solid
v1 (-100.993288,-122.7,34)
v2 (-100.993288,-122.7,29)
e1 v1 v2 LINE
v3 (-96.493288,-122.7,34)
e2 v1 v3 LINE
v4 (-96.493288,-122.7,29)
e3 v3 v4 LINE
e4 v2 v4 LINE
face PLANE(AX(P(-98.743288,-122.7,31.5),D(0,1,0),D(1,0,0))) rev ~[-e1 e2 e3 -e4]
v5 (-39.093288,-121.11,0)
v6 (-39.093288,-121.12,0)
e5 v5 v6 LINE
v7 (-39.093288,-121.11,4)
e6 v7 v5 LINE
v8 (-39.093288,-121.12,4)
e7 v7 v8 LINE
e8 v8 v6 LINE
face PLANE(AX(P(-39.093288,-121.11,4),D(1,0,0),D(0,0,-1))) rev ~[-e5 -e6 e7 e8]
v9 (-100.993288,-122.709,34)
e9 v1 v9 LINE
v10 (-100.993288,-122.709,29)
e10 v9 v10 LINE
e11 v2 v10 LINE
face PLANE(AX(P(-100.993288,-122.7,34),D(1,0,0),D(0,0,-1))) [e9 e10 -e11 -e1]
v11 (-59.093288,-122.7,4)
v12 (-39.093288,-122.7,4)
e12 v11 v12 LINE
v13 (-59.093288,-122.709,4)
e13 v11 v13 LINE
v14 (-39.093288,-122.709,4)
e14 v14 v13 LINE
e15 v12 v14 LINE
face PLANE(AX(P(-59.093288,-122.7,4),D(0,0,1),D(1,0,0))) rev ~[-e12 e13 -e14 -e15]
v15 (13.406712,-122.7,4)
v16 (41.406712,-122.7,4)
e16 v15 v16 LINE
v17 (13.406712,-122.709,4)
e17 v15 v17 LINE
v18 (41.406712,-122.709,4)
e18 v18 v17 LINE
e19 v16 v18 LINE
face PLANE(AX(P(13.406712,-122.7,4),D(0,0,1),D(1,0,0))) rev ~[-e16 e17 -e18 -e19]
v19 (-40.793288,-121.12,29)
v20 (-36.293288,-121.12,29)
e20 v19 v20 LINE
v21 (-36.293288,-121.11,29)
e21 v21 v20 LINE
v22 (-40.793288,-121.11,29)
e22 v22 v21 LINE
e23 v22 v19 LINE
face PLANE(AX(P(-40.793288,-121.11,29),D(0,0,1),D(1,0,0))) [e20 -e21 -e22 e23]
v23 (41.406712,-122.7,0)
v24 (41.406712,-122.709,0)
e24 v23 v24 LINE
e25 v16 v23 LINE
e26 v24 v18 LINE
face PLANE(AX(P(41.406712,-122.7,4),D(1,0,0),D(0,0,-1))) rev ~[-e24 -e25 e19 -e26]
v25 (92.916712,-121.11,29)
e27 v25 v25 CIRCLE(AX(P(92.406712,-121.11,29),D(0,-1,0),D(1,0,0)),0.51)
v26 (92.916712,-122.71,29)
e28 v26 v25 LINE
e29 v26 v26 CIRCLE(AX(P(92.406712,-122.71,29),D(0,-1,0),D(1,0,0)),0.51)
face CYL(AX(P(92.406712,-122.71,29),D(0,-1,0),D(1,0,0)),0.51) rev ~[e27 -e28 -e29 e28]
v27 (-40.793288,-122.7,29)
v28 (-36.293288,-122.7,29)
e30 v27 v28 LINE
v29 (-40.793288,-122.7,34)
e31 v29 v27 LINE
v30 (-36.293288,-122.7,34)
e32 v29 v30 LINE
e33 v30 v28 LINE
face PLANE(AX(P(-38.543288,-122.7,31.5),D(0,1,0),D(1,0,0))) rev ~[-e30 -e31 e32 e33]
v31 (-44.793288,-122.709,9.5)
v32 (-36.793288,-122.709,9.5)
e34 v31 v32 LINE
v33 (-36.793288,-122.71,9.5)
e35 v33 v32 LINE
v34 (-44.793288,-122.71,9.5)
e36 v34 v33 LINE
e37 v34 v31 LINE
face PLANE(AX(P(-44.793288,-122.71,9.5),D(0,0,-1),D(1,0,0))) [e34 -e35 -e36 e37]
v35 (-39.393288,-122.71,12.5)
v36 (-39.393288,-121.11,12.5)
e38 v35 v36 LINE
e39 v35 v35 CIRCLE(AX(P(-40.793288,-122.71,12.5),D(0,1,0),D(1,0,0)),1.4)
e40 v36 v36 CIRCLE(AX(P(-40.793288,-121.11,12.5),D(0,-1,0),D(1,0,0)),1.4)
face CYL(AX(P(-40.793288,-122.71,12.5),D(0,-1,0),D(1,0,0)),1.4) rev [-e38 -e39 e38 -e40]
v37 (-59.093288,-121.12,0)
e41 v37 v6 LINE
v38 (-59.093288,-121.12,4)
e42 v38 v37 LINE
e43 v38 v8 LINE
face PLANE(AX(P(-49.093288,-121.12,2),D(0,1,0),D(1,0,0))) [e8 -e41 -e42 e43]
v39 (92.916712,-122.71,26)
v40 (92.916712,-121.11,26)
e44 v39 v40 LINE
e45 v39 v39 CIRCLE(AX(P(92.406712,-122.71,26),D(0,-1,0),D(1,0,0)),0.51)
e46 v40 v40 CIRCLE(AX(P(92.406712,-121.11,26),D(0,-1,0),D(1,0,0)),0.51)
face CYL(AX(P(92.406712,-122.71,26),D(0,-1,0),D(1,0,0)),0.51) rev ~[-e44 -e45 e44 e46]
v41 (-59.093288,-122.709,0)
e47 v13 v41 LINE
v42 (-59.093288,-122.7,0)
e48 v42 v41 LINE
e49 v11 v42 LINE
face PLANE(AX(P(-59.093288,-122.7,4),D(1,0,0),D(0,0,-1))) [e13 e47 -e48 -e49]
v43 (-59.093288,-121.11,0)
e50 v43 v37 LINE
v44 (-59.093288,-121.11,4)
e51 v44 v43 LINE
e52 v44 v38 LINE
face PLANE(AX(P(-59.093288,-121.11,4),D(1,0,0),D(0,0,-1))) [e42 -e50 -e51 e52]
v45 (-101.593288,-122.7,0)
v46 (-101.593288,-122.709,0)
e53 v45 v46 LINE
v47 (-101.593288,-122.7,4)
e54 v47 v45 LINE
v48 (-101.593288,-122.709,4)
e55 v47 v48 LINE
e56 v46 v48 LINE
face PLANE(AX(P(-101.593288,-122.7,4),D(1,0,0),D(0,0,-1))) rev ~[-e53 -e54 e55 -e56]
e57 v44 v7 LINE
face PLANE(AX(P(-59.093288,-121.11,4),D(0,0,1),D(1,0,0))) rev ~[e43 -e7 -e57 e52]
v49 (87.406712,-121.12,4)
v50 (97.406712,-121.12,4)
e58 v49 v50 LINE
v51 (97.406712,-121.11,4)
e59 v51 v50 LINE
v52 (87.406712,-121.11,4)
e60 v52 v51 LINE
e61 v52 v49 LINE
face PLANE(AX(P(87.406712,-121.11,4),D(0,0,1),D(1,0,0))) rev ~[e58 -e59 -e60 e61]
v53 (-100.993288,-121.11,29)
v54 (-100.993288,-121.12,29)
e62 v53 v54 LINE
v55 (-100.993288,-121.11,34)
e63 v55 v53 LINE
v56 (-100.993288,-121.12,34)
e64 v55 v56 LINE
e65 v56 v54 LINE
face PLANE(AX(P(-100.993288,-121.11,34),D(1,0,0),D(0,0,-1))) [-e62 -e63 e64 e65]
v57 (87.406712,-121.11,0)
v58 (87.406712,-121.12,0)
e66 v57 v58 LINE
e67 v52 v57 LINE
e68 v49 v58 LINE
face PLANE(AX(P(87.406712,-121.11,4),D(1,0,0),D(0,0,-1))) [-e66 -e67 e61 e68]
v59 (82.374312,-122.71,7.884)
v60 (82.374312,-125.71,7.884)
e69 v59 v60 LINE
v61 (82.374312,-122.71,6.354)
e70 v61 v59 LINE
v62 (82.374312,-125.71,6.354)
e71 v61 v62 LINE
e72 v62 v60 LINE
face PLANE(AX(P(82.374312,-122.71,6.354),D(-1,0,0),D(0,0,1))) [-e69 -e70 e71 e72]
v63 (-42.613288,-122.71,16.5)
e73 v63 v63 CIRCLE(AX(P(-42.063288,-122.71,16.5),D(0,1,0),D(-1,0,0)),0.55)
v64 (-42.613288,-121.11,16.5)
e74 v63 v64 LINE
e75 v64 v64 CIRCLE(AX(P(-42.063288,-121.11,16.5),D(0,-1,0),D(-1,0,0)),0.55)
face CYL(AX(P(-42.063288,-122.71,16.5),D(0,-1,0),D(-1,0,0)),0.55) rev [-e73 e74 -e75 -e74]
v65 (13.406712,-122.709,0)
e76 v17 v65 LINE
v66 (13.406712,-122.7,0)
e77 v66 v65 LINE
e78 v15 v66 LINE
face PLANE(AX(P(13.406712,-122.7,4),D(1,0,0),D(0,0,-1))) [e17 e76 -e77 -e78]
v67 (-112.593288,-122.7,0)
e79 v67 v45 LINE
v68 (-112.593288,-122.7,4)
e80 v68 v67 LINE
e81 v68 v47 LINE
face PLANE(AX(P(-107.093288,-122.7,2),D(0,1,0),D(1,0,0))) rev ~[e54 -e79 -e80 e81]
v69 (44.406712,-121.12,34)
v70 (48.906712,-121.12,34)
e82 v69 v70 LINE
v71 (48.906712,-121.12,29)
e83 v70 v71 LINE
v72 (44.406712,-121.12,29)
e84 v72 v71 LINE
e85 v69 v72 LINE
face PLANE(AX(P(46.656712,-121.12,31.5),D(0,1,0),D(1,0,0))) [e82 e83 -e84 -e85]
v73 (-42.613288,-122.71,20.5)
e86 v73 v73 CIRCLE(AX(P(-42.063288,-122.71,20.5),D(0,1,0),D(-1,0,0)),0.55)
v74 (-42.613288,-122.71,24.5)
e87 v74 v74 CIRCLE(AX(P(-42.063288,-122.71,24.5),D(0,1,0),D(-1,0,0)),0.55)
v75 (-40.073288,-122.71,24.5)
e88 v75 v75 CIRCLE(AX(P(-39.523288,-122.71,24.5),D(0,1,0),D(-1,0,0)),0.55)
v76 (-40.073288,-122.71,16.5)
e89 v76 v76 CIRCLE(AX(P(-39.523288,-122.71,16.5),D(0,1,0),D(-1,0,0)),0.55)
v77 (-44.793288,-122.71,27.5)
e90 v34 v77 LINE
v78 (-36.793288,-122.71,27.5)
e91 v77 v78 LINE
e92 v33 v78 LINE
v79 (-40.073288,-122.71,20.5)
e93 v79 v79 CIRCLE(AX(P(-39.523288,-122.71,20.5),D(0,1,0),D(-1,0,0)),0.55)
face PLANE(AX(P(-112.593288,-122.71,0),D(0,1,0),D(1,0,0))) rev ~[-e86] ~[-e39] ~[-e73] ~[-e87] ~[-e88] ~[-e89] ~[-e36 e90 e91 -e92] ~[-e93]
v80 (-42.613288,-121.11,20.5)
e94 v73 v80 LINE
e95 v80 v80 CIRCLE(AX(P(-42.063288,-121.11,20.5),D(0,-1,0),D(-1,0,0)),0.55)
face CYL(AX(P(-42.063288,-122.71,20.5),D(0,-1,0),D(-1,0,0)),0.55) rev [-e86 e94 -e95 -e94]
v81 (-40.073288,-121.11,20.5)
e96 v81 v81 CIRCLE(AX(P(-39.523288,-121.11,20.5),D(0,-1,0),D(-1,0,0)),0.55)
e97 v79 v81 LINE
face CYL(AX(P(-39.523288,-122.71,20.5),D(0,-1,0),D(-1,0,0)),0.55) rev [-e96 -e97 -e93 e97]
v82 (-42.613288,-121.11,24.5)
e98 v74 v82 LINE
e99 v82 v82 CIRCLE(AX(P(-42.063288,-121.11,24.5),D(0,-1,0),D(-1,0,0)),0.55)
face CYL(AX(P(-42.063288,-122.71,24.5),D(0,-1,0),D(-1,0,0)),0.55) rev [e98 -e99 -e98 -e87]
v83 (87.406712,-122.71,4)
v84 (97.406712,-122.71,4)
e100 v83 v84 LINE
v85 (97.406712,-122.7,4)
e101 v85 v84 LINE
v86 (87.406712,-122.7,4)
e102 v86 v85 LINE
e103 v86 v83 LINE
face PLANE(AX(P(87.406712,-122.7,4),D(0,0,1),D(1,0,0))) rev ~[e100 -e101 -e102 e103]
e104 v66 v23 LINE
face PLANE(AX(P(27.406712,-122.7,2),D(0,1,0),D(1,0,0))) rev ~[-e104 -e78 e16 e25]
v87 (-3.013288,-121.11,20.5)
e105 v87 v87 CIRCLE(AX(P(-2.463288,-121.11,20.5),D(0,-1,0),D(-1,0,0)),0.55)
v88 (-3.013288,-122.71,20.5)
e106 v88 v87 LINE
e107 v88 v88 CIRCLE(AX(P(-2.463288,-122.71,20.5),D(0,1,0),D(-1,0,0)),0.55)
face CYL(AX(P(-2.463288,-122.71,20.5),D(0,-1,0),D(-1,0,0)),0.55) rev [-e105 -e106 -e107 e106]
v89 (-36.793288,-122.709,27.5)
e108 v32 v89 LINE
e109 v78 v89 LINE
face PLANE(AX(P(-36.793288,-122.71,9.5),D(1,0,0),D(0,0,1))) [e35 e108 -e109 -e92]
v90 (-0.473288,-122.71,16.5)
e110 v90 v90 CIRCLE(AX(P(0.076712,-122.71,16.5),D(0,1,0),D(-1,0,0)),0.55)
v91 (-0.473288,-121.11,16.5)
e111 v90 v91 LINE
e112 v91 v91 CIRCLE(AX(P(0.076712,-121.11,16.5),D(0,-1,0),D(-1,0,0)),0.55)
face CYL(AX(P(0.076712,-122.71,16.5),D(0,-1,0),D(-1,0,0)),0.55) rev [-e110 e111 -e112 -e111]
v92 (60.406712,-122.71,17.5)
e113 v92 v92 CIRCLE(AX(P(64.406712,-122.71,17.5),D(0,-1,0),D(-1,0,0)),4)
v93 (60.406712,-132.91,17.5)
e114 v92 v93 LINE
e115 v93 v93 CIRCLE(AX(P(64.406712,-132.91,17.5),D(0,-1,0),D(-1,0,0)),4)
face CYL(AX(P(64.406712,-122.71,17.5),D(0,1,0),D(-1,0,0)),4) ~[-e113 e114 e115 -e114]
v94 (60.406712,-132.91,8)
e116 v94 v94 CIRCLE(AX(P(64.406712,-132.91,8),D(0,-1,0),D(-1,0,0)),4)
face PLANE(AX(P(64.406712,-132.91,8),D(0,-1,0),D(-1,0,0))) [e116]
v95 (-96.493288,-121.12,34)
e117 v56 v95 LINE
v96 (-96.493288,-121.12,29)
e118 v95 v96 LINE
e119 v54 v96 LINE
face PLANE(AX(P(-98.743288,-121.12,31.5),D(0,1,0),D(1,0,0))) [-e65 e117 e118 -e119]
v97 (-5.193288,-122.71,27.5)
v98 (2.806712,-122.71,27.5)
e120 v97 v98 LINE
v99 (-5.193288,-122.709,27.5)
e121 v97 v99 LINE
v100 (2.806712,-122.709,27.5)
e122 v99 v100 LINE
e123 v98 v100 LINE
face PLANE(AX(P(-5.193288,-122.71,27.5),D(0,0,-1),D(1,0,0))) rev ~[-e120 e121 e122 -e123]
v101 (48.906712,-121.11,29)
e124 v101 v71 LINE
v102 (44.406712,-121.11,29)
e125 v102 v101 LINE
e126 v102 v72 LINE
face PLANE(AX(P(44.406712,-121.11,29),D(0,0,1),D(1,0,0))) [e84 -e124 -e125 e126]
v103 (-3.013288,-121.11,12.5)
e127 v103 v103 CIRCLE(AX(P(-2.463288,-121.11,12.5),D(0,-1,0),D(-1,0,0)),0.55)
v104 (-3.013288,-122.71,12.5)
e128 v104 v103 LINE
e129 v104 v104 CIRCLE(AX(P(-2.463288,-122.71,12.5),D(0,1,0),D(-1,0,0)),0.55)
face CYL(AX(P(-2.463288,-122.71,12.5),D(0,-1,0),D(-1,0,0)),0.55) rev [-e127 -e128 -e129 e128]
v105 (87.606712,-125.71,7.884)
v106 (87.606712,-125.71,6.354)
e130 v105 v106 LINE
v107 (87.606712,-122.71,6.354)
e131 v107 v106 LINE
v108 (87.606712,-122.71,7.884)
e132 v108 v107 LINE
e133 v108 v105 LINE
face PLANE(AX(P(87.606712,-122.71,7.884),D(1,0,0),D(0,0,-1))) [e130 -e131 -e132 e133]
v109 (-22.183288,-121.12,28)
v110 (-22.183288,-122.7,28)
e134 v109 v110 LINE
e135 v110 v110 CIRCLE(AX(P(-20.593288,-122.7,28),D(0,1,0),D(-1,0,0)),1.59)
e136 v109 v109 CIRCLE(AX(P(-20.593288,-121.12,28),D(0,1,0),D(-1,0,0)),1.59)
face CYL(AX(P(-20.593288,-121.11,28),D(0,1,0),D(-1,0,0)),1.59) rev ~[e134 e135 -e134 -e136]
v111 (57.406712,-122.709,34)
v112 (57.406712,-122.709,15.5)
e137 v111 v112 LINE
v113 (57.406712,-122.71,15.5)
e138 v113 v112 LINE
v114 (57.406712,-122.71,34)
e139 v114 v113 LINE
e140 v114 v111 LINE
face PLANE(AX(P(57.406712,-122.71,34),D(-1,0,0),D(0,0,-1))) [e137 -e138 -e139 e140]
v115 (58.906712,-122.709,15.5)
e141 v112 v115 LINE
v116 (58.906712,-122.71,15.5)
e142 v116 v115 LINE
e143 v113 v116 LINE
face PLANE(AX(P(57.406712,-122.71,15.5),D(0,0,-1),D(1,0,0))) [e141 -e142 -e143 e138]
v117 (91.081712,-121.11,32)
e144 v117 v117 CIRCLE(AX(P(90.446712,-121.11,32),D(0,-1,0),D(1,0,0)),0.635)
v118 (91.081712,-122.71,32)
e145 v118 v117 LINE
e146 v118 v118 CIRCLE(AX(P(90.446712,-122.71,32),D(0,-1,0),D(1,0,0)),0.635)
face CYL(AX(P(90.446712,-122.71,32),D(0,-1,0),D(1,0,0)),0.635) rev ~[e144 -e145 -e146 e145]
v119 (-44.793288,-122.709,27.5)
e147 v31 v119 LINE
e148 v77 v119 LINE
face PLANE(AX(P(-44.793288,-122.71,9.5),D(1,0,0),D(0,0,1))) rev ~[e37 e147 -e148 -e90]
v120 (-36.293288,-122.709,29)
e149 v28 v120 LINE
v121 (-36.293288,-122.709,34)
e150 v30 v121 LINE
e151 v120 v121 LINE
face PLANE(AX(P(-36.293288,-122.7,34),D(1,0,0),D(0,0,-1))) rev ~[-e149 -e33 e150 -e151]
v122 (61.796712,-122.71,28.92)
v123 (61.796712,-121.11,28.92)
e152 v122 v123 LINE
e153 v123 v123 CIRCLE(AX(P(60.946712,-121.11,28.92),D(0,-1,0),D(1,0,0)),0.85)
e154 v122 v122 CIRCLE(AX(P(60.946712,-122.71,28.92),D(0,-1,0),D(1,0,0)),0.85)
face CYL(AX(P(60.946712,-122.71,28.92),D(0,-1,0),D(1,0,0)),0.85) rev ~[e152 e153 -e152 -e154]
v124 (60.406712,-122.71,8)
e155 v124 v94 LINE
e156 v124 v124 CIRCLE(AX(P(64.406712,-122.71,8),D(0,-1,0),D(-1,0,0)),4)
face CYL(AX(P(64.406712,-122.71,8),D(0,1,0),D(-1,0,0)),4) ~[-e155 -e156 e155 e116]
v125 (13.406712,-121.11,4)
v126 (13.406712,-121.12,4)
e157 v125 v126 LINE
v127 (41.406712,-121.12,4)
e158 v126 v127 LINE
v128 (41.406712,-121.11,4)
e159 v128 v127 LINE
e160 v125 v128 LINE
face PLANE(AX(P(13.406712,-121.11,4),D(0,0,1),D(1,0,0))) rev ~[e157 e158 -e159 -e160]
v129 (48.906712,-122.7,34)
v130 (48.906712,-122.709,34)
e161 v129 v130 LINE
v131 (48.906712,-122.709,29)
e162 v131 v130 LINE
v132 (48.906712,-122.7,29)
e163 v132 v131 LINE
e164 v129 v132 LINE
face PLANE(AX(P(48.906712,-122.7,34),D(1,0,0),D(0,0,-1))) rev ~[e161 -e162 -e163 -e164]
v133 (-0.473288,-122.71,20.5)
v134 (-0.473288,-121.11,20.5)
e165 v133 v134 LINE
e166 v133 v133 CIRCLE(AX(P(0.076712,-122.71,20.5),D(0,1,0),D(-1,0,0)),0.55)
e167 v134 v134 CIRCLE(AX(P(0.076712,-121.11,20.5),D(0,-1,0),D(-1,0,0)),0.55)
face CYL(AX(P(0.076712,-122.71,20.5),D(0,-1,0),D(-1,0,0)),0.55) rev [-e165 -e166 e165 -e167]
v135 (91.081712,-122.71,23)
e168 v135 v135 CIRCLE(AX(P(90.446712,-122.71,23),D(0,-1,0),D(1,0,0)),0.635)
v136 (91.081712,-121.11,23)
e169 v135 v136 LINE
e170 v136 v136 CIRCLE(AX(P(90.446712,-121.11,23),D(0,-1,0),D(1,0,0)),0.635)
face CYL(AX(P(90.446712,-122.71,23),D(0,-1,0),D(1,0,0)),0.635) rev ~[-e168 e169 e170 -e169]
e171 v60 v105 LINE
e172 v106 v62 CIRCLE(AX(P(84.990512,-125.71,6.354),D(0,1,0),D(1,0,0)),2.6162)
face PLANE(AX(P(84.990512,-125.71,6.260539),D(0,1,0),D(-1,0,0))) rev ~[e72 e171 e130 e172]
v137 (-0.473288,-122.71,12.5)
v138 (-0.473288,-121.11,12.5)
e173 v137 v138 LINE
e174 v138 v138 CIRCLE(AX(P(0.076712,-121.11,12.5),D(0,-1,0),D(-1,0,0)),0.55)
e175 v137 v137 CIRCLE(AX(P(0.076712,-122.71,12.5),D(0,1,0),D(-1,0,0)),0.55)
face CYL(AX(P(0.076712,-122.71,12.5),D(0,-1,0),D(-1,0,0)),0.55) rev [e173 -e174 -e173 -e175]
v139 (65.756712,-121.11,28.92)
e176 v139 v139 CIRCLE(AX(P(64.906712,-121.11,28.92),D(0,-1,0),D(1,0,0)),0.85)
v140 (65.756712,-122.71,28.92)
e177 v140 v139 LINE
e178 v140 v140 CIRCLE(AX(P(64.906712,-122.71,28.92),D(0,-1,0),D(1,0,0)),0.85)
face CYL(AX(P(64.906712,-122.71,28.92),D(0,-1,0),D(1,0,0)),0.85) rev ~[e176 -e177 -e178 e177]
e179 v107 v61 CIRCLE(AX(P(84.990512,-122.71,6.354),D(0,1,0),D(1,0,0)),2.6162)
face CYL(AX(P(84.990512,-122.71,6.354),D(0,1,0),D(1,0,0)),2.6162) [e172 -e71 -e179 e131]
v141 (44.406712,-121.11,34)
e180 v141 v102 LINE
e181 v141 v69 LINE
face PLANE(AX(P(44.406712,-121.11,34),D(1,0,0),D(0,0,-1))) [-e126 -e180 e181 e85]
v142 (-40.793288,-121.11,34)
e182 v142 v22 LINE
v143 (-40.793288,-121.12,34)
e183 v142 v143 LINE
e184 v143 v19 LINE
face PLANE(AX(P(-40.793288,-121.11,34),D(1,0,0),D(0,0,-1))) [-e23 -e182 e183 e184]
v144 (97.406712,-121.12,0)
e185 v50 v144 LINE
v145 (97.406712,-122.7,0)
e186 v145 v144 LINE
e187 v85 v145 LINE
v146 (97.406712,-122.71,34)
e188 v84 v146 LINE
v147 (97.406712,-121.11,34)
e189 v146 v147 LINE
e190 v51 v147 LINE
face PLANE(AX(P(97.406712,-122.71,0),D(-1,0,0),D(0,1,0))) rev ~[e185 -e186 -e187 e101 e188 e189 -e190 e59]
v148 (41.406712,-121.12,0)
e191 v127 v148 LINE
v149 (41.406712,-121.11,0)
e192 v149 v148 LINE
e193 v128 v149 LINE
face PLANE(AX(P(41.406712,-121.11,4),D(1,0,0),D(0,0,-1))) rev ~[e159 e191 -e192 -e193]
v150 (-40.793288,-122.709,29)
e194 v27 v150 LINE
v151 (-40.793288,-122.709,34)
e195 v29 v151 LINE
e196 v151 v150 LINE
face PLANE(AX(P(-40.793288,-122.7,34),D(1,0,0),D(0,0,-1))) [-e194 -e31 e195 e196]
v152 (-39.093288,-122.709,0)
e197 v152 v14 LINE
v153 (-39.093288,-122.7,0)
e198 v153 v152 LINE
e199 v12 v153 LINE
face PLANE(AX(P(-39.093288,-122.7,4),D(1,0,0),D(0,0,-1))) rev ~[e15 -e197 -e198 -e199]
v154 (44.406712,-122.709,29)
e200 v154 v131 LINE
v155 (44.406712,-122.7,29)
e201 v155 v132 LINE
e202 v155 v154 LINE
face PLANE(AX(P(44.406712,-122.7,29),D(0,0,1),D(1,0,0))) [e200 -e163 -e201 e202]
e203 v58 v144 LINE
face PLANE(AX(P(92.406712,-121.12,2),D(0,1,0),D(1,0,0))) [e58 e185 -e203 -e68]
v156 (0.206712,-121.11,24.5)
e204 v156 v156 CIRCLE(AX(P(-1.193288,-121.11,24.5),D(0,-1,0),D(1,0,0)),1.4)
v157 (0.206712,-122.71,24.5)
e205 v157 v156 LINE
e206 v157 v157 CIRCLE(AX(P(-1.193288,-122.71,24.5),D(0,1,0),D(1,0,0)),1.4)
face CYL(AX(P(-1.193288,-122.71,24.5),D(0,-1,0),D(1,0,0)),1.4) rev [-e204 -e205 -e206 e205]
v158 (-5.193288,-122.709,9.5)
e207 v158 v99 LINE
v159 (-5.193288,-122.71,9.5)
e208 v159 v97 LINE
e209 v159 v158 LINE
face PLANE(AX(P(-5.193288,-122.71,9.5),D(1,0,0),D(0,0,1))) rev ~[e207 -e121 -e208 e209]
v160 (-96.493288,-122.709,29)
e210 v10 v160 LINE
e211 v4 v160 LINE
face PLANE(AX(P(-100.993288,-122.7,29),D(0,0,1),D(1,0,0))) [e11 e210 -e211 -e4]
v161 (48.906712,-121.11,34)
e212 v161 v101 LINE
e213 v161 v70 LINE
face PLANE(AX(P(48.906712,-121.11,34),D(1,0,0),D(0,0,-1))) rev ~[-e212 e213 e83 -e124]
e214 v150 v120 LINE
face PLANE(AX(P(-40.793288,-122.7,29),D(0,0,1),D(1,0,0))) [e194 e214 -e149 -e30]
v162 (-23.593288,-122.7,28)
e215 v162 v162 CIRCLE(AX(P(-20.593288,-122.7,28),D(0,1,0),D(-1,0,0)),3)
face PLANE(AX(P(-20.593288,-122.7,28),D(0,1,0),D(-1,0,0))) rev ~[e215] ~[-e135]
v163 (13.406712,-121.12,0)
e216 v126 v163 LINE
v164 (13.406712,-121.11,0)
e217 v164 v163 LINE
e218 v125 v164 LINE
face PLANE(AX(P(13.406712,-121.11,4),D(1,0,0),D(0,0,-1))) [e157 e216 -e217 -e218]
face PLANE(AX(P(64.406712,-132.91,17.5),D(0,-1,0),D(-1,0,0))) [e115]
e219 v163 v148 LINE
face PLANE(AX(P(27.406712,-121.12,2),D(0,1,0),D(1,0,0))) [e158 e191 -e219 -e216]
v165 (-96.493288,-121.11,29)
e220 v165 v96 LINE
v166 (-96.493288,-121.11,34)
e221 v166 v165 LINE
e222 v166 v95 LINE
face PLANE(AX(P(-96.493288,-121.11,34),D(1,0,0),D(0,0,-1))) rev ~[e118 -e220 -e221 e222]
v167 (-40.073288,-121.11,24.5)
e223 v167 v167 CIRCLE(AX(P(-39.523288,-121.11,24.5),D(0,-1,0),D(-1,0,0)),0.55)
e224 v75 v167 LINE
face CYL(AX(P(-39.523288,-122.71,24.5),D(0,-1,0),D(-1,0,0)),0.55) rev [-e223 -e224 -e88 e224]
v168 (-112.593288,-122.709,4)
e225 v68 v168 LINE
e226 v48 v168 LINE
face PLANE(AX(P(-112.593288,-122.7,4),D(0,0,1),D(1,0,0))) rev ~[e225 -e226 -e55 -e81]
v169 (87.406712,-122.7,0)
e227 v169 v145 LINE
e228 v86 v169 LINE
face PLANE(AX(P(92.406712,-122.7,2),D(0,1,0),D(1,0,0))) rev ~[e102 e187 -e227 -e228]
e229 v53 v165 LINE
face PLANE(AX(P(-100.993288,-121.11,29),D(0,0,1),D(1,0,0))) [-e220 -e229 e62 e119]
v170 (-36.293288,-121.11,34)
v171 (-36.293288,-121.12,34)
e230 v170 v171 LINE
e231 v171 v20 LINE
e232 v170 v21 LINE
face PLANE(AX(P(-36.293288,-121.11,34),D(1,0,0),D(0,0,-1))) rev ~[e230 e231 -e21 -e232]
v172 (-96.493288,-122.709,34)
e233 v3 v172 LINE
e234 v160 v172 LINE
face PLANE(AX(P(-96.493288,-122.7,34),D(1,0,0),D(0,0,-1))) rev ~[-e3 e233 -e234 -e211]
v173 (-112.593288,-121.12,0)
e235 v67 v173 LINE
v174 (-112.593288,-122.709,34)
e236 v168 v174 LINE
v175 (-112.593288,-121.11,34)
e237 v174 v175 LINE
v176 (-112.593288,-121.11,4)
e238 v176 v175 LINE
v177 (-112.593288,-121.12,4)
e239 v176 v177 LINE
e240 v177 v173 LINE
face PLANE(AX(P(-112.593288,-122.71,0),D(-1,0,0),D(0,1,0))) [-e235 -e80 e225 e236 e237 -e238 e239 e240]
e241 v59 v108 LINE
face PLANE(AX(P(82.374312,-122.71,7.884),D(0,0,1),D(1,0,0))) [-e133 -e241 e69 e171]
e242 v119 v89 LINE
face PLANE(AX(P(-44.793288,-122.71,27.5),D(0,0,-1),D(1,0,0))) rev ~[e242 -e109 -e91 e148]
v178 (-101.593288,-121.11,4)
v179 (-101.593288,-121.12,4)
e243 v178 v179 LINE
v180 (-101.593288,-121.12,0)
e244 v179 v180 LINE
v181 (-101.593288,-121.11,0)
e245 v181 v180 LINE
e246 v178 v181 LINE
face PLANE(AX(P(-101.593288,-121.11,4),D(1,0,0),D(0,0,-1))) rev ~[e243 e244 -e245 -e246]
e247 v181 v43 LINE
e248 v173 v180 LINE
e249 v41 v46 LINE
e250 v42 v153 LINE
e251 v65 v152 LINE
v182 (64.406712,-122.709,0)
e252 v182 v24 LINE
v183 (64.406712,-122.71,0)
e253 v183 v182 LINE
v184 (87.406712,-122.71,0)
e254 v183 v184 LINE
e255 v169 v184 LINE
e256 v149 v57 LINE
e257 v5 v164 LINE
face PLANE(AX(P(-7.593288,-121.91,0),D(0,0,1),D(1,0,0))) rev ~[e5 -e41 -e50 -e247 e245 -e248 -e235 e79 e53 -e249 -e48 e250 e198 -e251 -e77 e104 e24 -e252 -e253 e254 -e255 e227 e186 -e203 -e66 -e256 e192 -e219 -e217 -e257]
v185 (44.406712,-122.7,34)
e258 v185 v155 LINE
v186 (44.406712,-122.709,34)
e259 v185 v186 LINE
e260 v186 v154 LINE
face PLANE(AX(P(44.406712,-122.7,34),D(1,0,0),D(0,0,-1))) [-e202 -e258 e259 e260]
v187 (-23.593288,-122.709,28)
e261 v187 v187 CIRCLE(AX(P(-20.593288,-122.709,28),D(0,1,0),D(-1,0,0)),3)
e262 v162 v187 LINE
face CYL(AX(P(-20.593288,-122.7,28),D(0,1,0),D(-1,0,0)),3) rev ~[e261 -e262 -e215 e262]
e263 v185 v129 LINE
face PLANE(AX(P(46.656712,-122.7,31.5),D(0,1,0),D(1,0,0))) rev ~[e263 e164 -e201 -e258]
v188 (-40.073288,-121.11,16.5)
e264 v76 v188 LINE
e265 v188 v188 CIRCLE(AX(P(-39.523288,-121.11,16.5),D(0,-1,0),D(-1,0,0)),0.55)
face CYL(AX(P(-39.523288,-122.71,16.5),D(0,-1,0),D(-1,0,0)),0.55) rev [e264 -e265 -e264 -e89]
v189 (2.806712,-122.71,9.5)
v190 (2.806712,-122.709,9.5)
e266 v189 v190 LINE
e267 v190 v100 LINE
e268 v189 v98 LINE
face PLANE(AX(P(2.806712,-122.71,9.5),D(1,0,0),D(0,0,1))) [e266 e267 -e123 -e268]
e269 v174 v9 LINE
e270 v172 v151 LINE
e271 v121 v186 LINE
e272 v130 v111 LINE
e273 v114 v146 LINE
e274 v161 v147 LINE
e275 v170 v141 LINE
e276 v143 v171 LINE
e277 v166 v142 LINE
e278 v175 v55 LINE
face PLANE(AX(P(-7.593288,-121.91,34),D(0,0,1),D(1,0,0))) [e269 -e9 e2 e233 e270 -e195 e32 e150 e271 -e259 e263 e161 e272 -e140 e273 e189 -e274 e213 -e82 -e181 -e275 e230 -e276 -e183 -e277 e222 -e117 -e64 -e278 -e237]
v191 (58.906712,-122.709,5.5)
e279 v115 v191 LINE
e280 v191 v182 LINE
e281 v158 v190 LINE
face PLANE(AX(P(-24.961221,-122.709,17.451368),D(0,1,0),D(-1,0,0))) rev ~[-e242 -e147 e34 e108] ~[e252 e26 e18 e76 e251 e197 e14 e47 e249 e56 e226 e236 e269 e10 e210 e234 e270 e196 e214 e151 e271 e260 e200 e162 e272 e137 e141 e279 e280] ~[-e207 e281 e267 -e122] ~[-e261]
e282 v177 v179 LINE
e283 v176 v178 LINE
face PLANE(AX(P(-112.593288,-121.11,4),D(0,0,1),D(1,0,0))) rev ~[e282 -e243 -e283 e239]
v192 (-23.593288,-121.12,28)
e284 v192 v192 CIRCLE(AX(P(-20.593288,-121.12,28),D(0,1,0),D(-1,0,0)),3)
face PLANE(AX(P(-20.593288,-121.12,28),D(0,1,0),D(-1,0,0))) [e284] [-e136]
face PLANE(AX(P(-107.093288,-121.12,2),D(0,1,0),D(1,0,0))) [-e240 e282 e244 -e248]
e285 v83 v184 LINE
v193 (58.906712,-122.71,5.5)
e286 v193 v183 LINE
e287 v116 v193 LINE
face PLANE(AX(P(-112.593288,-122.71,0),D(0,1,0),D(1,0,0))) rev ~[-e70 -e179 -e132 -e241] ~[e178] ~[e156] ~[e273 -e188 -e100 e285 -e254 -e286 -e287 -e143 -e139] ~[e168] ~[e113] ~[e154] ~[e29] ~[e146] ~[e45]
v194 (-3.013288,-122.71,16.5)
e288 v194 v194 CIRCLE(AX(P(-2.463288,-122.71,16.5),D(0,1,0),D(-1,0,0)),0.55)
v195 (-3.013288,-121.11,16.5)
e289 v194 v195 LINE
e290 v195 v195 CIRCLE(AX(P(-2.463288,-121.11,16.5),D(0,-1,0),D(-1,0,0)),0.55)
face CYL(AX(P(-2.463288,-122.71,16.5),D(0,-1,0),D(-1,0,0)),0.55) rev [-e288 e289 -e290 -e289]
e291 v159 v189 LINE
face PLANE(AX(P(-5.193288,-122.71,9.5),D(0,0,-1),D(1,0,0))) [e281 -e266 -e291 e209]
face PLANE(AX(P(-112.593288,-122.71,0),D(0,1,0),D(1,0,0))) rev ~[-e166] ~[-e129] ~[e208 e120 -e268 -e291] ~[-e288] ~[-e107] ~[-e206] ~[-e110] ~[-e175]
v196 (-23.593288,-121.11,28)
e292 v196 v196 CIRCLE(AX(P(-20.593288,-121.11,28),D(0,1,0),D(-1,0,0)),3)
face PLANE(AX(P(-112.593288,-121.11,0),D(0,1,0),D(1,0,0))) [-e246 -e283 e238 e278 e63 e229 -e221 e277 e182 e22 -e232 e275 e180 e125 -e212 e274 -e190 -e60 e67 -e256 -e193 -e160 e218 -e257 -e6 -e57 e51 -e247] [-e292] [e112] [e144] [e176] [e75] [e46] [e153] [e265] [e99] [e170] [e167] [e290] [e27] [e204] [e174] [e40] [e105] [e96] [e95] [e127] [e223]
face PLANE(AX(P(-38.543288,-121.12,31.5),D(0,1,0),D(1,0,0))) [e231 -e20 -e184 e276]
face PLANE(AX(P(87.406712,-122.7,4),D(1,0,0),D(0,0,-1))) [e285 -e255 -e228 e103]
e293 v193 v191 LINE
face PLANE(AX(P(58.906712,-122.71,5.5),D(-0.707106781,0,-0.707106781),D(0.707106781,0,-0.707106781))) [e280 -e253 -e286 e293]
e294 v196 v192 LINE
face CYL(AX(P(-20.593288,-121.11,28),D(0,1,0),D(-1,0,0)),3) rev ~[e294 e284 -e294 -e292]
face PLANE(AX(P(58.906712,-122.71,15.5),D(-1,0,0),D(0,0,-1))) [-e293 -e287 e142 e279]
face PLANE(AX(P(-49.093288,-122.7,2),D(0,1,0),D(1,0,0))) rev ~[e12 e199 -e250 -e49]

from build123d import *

# Parameters (mm, degrees)
ESQUISSE1_W                     = 210
ESQUISSE1_H                     = 1.6
BOARD_DEPTH                     = 34
SKETCH1_R                       = 0.55
SKETCH1_R_2                     = 1.4
REMOVEABLE_BATT_CON_HOLES_DEPTH = 118.625713289
SKETCH2_R                       = 0.51
SKETCH2_R_2                     = 0.635
DC_OUT_CONN_HOLES_DEPTH         = 118.625713289
SKETCH3_R                       = 0.85
CHARGER_CONN_HOLES_DEPTH        = 118.625713289
SKETCH4_R                       = 1.59
CUT_EXTRUDE1_DEPTH              = 118.625713289
SKETCH5_R                       = 3
SKETCH5_W                       = 10
SKETCH5_H                       = 4
SKETCH5_W_2                     = 28
SKETCH5_W_3                     = 20
SKETCH5_W_4                     = 11
SKETCH5_W_5                     = 4.5
SKETCH5_H_2                     = 5
CUT_EXTRUDE2_DEPTH              = 0.01
CUT_EXTRUDE3_START              = -1.59
SKETCH5_2_R                     = 3
SKETCH5_2_W                     = 10
SKETCH5_2_H                     = 4
SKETCH5_2_W_2                   = 28
SKETCH5_2_W_3                   = 20
SKETCH5_2_W_4                   = 11
SKETCH5_2_W_5                   = 4.5
SKETCH5_2_H_2                   = 5
CUT_EXTRUDE3_DEPTH              = 0.01
SKETCH6_W                       = 8
SKETCH6_H                       = 18
CUT_EXTRUDE4_DEPTH              = 0.001
SKETCH7_R                       = 4
BOSS_EXTRUDE1_DEPTH             = 10.2
BOSS_EXTRUDE2_DEPTH             = 3


with BuildPart() as part:
    # Esquisse1 → Board (new body)
    with BuildSketch(Plane.XY):
        with Locations((-7.593287663, -121.91)):
            Rectangle(ESQUISSE1_W, ESQUISSE1_H)
    extrude(amount=BOARD_DEPTH)

    # Sketch1 → Removeable Batt Con Holes (cut, through all)
    with BuildSketch(Plane(origin=(0, -122.71, 0), x_dir=(1, 0, 0), z_dir=(0, 1, 0))):
        with Locations(Location((-39.523287663, -16.5, 0), (0, 0, 180))):
            Circle(SKETCH1_R)
        with Locations(Location((-42.063287663, -16.5, 0), (0, 0, 180))):
            Circle(SKETCH1_R)
        with Locations(Location((-42.063287663, -20.5, 0), (0, 0, 180))):
            Circle(SKETCH1_R)
        with Locations(Location((-42.063287663, -24.5, 0), (0, 0, 180))):
            Circle(SKETCH1_R)
        with Locations((-40.793287663, -12.5)):
            Circle(SKETCH1_R_2)
        with Locations(Location((-39.523287663, -20.5, 0), (0, 0, 180))):
            Circle(SKETCH1_R)
        with Locations(Location((-39.523287663, -24.5, 0), (0, 0, 180))):
            Circle(SKETCH1_R)
        with Locations(Location((-2.463287663, -20.5, 0), (0, 0, 180))):
            Circle(SKETCH1_R)
        with Locations(Location((0.076712337, -20.5, 0), (0, 0, 180))):
            Circle(SKETCH1_R)
        with Locations(Location((-2.463287663, -16.5, 0), (0, 0, 180))):
            Circle(SKETCH1_R)
        with Locations(Location((0.076712337, -16.5, 0), (0, 0, 180))):
            Circle(SKETCH1_R)
        with Locations(Location((-2.463287663, -12.5, 0), (0, 0, 180))):
            Circle(SKETCH1_R)
        with Locations(Location((0.076712337, -12.5, 0), (0, 0, 180))):
            Circle(SKETCH1_R)
        with Locations((-1.193287663, -24.5)):
            Circle(SKETCH1_R_2)
    extrude(amount=REMOVEABLE_BATT_CON_HOLES_DEPTH, mode=Mode.SUBTRACT)

    # Sketch2 → DC Out Conn holes (cut, through all)
    with BuildSketch(Plane.XZ.offset(122.71)):
        with Locations((92.406712337, 29)):
            Circle(SKETCH2_R)
        with Locations((92.406712337, 26)):
            Circle(SKETCH2_R)
        with Locations((90.446712337, 32)):
            Circle(SKETCH2_R_2)
        with Locations((90.446712337, 23)):
            Circle(SKETCH2_R_2)
    extrude(amount=-DC_OUT_CONN_HOLES_DEPTH, mode=Mode.SUBTRACT)

    # Sketch3 → Charger conn holes (cut, through all)
    with BuildSketch(Plane.XZ.offset(122.71)):
        with Locations((64.906712337, 28.92)):
            Circle(SKETCH3_R)
        with Locations((60.946712337, 28.92)):
            Circle(SKETCH3_R)
    extrude(amount=-CHARGER_CONN_HOLES_DEPTH, mode=Mode.SUBTRACT)

    # Sketch4 → Cut-Extrude1 (cut, through all)
    with BuildSketch(Plane(origin=(0, -121.11, 0), x_dir=(1, 0, 0), z_dir=(0, 1, 0))):
        with Locations(Location((-20.593287663, -28, 0), (0, 0, 180))):
            Circle(SKETCH4_R)
    extrude(amount=-CUT_EXTRUDE1_DEPTH, mode=Mode.SUBTRACT)

    # Sketch5 → Cut-Extrude2 (cut)
    with BuildSketch(Plane(origin=(0, -121.11, 0), x_dir=(1, 0, 0), z_dir=(0, 1, 0))):
        with Locations(Location((-20.593287663, -28, 0), (0, 0, 180))):
            Circle(SKETCH5_R)
        with Locations((92.406712337, -2)):
            Rectangle(SKETCH5_W, SKETCH5_H)
        with Locations((27.406712337, -2)):
            Rectangle(SKETCH5_W_2, SKETCH5_H)
        with Locations((-49.093287663, -2)):
            Rectangle(SKETCH5_W_3, SKETCH5_H)
        with Locations((-107.093287663, -2)):
            Rectangle(SKETCH5_W_4, SKETCH5_H)
        with Locations((-98.743287663, -31.5)):
            Rectangle(SKETCH5_W_5, SKETCH5_H_2)
        with Locations((-38.543287663, -31.5)):
            Rectangle(SKETCH5_W_5, SKETCH5_H_2)
        with Locations((46.656712337, -31.5)):
            Rectangle(SKETCH5_W_5, SKETCH5_H_2)
    extrude(amount=-CUT_EXTRUDE2_DEPTH, mode=Mode.SUBTRACT)

    # Sketch5<2> → Cut-Extrude3 (cut)
    with BuildSketch(Plane(origin=(0, -121.11, 0), x_dir=(1, 0, 0), z_dir=(0, 1, 0)).offset(CUT_EXTRUDE3_START)):
        with Locations(Location((-20.593287663, -28, 0), (0, 0, 180))):
            Circle(SKETCH5_2_R)
        with Locations((92.406712337, -2)):
            Rectangle(SKETCH5_2_W, SKETCH5_2_H)
        with Locations((27.406712337, -2)):
            Rectangle(SKETCH5_2_W_2, SKETCH5_2_H)
        with Locations((-49.093287663, -2)):
            Rectangle(SKETCH5_2_W_3, SKETCH5_2_H)
        with Locations((-107.093287663, -2)):
            Rectangle(SKETCH5_2_W_4, SKETCH5_2_H)
        with Locations((-98.743287663, -31.5)):
            Rectangle(SKETCH5_2_W_5, SKETCH5_2_H_2)
        with Locations((-38.543287663, -31.5)):
            Rectangle(SKETCH5_2_W_5, SKETCH5_2_H_2)
        with Locations((46.656712337, -31.5)):
            Rectangle(SKETCH5_2_W_5, SKETCH5_2_H_2)
    extrude(amount=-CUT_EXTRUDE3_DEPTH, mode=Mode.SUBTRACT)

    # Sketch6 → Cut-Extrude4 (cut)
    with BuildSketch(Plane.XZ.offset(122.71)):
        Polygon((57.406712337, 34), (57.406712337, 15.5), (58.906712337, 15.5), (58.906712337, 5.5), (64.406712337, 0), (41.406712337, 0), (41.406712337, 4), (13.406712337, 4), (13.406712337, 0), (-39.093287663, 0), (-39.093287663, 4), (-59.093287663, 4), (-59.093287663, 0), (-101.593287663, 0), (-101.593287663, 4), (-112.593287663, 4), (-112.593287663, 34), (-100.993287663, 34), (-100.993287663, 29), (-96.493287663, 29), (-96.493287663, 34), (-40.793287663, 34), (-40.793287663, 29), (-36.293287663, 29), (-36.293287663, 34), (44.406712337, 34), (44.406712337, 29), (48.906712337, 29), (48.906712337, 34), align=None)
        with Locations((-40.793287663, 18.5)):
            Rectangle(SKETCH6_W, SKETCH6_H, mode=Mode.SUBTRACT)
        with Locations((-1.193287663, 18.5)):
            Rectangle(SKETCH6_W, SKETCH6_H, mode=Mode.SUBTRACT)
    extrude(amount=-CUT_EXTRUDE4_DEPTH, mode=Mode.SUBTRACT)

    # Sketch7 → Boss-Extrude1 (add)
    with BuildSketch(Plane.XZ.offset(122.71)):
        with Locations(Location((64.406712337, 17.5, 0), (0, 0, 180))):
            Circle(SKETCH7_R)
        with Locations(Location((64.406712337, 8, 0), (0, 0, 180))):
            Circle(SKETCH7_R)
    extrude(amount=BOSS_EXTRUDE1_DEPTH)

    # Sketch8 → Boss-Extrude2 (add)
    with BuildSketch(Plane.XZ.offset(122.71)):
        with BuildLine():
            Line((82.374312337, 7.884), (87.606712337, 7.884))
            Line((87.606712337, 7.884), (87.606712337, 6.354))
            ThreePointArc((87.606712337, 6.354), (84.990512337, 3.7378), (82.374312337, 6.354))
            Line((82.374312337, 6.354), (82.374312337, 7.884))
        make_face()
    extrude(amount=BOSS_EXTRUDE2_DEPTH)


solid = part.part
